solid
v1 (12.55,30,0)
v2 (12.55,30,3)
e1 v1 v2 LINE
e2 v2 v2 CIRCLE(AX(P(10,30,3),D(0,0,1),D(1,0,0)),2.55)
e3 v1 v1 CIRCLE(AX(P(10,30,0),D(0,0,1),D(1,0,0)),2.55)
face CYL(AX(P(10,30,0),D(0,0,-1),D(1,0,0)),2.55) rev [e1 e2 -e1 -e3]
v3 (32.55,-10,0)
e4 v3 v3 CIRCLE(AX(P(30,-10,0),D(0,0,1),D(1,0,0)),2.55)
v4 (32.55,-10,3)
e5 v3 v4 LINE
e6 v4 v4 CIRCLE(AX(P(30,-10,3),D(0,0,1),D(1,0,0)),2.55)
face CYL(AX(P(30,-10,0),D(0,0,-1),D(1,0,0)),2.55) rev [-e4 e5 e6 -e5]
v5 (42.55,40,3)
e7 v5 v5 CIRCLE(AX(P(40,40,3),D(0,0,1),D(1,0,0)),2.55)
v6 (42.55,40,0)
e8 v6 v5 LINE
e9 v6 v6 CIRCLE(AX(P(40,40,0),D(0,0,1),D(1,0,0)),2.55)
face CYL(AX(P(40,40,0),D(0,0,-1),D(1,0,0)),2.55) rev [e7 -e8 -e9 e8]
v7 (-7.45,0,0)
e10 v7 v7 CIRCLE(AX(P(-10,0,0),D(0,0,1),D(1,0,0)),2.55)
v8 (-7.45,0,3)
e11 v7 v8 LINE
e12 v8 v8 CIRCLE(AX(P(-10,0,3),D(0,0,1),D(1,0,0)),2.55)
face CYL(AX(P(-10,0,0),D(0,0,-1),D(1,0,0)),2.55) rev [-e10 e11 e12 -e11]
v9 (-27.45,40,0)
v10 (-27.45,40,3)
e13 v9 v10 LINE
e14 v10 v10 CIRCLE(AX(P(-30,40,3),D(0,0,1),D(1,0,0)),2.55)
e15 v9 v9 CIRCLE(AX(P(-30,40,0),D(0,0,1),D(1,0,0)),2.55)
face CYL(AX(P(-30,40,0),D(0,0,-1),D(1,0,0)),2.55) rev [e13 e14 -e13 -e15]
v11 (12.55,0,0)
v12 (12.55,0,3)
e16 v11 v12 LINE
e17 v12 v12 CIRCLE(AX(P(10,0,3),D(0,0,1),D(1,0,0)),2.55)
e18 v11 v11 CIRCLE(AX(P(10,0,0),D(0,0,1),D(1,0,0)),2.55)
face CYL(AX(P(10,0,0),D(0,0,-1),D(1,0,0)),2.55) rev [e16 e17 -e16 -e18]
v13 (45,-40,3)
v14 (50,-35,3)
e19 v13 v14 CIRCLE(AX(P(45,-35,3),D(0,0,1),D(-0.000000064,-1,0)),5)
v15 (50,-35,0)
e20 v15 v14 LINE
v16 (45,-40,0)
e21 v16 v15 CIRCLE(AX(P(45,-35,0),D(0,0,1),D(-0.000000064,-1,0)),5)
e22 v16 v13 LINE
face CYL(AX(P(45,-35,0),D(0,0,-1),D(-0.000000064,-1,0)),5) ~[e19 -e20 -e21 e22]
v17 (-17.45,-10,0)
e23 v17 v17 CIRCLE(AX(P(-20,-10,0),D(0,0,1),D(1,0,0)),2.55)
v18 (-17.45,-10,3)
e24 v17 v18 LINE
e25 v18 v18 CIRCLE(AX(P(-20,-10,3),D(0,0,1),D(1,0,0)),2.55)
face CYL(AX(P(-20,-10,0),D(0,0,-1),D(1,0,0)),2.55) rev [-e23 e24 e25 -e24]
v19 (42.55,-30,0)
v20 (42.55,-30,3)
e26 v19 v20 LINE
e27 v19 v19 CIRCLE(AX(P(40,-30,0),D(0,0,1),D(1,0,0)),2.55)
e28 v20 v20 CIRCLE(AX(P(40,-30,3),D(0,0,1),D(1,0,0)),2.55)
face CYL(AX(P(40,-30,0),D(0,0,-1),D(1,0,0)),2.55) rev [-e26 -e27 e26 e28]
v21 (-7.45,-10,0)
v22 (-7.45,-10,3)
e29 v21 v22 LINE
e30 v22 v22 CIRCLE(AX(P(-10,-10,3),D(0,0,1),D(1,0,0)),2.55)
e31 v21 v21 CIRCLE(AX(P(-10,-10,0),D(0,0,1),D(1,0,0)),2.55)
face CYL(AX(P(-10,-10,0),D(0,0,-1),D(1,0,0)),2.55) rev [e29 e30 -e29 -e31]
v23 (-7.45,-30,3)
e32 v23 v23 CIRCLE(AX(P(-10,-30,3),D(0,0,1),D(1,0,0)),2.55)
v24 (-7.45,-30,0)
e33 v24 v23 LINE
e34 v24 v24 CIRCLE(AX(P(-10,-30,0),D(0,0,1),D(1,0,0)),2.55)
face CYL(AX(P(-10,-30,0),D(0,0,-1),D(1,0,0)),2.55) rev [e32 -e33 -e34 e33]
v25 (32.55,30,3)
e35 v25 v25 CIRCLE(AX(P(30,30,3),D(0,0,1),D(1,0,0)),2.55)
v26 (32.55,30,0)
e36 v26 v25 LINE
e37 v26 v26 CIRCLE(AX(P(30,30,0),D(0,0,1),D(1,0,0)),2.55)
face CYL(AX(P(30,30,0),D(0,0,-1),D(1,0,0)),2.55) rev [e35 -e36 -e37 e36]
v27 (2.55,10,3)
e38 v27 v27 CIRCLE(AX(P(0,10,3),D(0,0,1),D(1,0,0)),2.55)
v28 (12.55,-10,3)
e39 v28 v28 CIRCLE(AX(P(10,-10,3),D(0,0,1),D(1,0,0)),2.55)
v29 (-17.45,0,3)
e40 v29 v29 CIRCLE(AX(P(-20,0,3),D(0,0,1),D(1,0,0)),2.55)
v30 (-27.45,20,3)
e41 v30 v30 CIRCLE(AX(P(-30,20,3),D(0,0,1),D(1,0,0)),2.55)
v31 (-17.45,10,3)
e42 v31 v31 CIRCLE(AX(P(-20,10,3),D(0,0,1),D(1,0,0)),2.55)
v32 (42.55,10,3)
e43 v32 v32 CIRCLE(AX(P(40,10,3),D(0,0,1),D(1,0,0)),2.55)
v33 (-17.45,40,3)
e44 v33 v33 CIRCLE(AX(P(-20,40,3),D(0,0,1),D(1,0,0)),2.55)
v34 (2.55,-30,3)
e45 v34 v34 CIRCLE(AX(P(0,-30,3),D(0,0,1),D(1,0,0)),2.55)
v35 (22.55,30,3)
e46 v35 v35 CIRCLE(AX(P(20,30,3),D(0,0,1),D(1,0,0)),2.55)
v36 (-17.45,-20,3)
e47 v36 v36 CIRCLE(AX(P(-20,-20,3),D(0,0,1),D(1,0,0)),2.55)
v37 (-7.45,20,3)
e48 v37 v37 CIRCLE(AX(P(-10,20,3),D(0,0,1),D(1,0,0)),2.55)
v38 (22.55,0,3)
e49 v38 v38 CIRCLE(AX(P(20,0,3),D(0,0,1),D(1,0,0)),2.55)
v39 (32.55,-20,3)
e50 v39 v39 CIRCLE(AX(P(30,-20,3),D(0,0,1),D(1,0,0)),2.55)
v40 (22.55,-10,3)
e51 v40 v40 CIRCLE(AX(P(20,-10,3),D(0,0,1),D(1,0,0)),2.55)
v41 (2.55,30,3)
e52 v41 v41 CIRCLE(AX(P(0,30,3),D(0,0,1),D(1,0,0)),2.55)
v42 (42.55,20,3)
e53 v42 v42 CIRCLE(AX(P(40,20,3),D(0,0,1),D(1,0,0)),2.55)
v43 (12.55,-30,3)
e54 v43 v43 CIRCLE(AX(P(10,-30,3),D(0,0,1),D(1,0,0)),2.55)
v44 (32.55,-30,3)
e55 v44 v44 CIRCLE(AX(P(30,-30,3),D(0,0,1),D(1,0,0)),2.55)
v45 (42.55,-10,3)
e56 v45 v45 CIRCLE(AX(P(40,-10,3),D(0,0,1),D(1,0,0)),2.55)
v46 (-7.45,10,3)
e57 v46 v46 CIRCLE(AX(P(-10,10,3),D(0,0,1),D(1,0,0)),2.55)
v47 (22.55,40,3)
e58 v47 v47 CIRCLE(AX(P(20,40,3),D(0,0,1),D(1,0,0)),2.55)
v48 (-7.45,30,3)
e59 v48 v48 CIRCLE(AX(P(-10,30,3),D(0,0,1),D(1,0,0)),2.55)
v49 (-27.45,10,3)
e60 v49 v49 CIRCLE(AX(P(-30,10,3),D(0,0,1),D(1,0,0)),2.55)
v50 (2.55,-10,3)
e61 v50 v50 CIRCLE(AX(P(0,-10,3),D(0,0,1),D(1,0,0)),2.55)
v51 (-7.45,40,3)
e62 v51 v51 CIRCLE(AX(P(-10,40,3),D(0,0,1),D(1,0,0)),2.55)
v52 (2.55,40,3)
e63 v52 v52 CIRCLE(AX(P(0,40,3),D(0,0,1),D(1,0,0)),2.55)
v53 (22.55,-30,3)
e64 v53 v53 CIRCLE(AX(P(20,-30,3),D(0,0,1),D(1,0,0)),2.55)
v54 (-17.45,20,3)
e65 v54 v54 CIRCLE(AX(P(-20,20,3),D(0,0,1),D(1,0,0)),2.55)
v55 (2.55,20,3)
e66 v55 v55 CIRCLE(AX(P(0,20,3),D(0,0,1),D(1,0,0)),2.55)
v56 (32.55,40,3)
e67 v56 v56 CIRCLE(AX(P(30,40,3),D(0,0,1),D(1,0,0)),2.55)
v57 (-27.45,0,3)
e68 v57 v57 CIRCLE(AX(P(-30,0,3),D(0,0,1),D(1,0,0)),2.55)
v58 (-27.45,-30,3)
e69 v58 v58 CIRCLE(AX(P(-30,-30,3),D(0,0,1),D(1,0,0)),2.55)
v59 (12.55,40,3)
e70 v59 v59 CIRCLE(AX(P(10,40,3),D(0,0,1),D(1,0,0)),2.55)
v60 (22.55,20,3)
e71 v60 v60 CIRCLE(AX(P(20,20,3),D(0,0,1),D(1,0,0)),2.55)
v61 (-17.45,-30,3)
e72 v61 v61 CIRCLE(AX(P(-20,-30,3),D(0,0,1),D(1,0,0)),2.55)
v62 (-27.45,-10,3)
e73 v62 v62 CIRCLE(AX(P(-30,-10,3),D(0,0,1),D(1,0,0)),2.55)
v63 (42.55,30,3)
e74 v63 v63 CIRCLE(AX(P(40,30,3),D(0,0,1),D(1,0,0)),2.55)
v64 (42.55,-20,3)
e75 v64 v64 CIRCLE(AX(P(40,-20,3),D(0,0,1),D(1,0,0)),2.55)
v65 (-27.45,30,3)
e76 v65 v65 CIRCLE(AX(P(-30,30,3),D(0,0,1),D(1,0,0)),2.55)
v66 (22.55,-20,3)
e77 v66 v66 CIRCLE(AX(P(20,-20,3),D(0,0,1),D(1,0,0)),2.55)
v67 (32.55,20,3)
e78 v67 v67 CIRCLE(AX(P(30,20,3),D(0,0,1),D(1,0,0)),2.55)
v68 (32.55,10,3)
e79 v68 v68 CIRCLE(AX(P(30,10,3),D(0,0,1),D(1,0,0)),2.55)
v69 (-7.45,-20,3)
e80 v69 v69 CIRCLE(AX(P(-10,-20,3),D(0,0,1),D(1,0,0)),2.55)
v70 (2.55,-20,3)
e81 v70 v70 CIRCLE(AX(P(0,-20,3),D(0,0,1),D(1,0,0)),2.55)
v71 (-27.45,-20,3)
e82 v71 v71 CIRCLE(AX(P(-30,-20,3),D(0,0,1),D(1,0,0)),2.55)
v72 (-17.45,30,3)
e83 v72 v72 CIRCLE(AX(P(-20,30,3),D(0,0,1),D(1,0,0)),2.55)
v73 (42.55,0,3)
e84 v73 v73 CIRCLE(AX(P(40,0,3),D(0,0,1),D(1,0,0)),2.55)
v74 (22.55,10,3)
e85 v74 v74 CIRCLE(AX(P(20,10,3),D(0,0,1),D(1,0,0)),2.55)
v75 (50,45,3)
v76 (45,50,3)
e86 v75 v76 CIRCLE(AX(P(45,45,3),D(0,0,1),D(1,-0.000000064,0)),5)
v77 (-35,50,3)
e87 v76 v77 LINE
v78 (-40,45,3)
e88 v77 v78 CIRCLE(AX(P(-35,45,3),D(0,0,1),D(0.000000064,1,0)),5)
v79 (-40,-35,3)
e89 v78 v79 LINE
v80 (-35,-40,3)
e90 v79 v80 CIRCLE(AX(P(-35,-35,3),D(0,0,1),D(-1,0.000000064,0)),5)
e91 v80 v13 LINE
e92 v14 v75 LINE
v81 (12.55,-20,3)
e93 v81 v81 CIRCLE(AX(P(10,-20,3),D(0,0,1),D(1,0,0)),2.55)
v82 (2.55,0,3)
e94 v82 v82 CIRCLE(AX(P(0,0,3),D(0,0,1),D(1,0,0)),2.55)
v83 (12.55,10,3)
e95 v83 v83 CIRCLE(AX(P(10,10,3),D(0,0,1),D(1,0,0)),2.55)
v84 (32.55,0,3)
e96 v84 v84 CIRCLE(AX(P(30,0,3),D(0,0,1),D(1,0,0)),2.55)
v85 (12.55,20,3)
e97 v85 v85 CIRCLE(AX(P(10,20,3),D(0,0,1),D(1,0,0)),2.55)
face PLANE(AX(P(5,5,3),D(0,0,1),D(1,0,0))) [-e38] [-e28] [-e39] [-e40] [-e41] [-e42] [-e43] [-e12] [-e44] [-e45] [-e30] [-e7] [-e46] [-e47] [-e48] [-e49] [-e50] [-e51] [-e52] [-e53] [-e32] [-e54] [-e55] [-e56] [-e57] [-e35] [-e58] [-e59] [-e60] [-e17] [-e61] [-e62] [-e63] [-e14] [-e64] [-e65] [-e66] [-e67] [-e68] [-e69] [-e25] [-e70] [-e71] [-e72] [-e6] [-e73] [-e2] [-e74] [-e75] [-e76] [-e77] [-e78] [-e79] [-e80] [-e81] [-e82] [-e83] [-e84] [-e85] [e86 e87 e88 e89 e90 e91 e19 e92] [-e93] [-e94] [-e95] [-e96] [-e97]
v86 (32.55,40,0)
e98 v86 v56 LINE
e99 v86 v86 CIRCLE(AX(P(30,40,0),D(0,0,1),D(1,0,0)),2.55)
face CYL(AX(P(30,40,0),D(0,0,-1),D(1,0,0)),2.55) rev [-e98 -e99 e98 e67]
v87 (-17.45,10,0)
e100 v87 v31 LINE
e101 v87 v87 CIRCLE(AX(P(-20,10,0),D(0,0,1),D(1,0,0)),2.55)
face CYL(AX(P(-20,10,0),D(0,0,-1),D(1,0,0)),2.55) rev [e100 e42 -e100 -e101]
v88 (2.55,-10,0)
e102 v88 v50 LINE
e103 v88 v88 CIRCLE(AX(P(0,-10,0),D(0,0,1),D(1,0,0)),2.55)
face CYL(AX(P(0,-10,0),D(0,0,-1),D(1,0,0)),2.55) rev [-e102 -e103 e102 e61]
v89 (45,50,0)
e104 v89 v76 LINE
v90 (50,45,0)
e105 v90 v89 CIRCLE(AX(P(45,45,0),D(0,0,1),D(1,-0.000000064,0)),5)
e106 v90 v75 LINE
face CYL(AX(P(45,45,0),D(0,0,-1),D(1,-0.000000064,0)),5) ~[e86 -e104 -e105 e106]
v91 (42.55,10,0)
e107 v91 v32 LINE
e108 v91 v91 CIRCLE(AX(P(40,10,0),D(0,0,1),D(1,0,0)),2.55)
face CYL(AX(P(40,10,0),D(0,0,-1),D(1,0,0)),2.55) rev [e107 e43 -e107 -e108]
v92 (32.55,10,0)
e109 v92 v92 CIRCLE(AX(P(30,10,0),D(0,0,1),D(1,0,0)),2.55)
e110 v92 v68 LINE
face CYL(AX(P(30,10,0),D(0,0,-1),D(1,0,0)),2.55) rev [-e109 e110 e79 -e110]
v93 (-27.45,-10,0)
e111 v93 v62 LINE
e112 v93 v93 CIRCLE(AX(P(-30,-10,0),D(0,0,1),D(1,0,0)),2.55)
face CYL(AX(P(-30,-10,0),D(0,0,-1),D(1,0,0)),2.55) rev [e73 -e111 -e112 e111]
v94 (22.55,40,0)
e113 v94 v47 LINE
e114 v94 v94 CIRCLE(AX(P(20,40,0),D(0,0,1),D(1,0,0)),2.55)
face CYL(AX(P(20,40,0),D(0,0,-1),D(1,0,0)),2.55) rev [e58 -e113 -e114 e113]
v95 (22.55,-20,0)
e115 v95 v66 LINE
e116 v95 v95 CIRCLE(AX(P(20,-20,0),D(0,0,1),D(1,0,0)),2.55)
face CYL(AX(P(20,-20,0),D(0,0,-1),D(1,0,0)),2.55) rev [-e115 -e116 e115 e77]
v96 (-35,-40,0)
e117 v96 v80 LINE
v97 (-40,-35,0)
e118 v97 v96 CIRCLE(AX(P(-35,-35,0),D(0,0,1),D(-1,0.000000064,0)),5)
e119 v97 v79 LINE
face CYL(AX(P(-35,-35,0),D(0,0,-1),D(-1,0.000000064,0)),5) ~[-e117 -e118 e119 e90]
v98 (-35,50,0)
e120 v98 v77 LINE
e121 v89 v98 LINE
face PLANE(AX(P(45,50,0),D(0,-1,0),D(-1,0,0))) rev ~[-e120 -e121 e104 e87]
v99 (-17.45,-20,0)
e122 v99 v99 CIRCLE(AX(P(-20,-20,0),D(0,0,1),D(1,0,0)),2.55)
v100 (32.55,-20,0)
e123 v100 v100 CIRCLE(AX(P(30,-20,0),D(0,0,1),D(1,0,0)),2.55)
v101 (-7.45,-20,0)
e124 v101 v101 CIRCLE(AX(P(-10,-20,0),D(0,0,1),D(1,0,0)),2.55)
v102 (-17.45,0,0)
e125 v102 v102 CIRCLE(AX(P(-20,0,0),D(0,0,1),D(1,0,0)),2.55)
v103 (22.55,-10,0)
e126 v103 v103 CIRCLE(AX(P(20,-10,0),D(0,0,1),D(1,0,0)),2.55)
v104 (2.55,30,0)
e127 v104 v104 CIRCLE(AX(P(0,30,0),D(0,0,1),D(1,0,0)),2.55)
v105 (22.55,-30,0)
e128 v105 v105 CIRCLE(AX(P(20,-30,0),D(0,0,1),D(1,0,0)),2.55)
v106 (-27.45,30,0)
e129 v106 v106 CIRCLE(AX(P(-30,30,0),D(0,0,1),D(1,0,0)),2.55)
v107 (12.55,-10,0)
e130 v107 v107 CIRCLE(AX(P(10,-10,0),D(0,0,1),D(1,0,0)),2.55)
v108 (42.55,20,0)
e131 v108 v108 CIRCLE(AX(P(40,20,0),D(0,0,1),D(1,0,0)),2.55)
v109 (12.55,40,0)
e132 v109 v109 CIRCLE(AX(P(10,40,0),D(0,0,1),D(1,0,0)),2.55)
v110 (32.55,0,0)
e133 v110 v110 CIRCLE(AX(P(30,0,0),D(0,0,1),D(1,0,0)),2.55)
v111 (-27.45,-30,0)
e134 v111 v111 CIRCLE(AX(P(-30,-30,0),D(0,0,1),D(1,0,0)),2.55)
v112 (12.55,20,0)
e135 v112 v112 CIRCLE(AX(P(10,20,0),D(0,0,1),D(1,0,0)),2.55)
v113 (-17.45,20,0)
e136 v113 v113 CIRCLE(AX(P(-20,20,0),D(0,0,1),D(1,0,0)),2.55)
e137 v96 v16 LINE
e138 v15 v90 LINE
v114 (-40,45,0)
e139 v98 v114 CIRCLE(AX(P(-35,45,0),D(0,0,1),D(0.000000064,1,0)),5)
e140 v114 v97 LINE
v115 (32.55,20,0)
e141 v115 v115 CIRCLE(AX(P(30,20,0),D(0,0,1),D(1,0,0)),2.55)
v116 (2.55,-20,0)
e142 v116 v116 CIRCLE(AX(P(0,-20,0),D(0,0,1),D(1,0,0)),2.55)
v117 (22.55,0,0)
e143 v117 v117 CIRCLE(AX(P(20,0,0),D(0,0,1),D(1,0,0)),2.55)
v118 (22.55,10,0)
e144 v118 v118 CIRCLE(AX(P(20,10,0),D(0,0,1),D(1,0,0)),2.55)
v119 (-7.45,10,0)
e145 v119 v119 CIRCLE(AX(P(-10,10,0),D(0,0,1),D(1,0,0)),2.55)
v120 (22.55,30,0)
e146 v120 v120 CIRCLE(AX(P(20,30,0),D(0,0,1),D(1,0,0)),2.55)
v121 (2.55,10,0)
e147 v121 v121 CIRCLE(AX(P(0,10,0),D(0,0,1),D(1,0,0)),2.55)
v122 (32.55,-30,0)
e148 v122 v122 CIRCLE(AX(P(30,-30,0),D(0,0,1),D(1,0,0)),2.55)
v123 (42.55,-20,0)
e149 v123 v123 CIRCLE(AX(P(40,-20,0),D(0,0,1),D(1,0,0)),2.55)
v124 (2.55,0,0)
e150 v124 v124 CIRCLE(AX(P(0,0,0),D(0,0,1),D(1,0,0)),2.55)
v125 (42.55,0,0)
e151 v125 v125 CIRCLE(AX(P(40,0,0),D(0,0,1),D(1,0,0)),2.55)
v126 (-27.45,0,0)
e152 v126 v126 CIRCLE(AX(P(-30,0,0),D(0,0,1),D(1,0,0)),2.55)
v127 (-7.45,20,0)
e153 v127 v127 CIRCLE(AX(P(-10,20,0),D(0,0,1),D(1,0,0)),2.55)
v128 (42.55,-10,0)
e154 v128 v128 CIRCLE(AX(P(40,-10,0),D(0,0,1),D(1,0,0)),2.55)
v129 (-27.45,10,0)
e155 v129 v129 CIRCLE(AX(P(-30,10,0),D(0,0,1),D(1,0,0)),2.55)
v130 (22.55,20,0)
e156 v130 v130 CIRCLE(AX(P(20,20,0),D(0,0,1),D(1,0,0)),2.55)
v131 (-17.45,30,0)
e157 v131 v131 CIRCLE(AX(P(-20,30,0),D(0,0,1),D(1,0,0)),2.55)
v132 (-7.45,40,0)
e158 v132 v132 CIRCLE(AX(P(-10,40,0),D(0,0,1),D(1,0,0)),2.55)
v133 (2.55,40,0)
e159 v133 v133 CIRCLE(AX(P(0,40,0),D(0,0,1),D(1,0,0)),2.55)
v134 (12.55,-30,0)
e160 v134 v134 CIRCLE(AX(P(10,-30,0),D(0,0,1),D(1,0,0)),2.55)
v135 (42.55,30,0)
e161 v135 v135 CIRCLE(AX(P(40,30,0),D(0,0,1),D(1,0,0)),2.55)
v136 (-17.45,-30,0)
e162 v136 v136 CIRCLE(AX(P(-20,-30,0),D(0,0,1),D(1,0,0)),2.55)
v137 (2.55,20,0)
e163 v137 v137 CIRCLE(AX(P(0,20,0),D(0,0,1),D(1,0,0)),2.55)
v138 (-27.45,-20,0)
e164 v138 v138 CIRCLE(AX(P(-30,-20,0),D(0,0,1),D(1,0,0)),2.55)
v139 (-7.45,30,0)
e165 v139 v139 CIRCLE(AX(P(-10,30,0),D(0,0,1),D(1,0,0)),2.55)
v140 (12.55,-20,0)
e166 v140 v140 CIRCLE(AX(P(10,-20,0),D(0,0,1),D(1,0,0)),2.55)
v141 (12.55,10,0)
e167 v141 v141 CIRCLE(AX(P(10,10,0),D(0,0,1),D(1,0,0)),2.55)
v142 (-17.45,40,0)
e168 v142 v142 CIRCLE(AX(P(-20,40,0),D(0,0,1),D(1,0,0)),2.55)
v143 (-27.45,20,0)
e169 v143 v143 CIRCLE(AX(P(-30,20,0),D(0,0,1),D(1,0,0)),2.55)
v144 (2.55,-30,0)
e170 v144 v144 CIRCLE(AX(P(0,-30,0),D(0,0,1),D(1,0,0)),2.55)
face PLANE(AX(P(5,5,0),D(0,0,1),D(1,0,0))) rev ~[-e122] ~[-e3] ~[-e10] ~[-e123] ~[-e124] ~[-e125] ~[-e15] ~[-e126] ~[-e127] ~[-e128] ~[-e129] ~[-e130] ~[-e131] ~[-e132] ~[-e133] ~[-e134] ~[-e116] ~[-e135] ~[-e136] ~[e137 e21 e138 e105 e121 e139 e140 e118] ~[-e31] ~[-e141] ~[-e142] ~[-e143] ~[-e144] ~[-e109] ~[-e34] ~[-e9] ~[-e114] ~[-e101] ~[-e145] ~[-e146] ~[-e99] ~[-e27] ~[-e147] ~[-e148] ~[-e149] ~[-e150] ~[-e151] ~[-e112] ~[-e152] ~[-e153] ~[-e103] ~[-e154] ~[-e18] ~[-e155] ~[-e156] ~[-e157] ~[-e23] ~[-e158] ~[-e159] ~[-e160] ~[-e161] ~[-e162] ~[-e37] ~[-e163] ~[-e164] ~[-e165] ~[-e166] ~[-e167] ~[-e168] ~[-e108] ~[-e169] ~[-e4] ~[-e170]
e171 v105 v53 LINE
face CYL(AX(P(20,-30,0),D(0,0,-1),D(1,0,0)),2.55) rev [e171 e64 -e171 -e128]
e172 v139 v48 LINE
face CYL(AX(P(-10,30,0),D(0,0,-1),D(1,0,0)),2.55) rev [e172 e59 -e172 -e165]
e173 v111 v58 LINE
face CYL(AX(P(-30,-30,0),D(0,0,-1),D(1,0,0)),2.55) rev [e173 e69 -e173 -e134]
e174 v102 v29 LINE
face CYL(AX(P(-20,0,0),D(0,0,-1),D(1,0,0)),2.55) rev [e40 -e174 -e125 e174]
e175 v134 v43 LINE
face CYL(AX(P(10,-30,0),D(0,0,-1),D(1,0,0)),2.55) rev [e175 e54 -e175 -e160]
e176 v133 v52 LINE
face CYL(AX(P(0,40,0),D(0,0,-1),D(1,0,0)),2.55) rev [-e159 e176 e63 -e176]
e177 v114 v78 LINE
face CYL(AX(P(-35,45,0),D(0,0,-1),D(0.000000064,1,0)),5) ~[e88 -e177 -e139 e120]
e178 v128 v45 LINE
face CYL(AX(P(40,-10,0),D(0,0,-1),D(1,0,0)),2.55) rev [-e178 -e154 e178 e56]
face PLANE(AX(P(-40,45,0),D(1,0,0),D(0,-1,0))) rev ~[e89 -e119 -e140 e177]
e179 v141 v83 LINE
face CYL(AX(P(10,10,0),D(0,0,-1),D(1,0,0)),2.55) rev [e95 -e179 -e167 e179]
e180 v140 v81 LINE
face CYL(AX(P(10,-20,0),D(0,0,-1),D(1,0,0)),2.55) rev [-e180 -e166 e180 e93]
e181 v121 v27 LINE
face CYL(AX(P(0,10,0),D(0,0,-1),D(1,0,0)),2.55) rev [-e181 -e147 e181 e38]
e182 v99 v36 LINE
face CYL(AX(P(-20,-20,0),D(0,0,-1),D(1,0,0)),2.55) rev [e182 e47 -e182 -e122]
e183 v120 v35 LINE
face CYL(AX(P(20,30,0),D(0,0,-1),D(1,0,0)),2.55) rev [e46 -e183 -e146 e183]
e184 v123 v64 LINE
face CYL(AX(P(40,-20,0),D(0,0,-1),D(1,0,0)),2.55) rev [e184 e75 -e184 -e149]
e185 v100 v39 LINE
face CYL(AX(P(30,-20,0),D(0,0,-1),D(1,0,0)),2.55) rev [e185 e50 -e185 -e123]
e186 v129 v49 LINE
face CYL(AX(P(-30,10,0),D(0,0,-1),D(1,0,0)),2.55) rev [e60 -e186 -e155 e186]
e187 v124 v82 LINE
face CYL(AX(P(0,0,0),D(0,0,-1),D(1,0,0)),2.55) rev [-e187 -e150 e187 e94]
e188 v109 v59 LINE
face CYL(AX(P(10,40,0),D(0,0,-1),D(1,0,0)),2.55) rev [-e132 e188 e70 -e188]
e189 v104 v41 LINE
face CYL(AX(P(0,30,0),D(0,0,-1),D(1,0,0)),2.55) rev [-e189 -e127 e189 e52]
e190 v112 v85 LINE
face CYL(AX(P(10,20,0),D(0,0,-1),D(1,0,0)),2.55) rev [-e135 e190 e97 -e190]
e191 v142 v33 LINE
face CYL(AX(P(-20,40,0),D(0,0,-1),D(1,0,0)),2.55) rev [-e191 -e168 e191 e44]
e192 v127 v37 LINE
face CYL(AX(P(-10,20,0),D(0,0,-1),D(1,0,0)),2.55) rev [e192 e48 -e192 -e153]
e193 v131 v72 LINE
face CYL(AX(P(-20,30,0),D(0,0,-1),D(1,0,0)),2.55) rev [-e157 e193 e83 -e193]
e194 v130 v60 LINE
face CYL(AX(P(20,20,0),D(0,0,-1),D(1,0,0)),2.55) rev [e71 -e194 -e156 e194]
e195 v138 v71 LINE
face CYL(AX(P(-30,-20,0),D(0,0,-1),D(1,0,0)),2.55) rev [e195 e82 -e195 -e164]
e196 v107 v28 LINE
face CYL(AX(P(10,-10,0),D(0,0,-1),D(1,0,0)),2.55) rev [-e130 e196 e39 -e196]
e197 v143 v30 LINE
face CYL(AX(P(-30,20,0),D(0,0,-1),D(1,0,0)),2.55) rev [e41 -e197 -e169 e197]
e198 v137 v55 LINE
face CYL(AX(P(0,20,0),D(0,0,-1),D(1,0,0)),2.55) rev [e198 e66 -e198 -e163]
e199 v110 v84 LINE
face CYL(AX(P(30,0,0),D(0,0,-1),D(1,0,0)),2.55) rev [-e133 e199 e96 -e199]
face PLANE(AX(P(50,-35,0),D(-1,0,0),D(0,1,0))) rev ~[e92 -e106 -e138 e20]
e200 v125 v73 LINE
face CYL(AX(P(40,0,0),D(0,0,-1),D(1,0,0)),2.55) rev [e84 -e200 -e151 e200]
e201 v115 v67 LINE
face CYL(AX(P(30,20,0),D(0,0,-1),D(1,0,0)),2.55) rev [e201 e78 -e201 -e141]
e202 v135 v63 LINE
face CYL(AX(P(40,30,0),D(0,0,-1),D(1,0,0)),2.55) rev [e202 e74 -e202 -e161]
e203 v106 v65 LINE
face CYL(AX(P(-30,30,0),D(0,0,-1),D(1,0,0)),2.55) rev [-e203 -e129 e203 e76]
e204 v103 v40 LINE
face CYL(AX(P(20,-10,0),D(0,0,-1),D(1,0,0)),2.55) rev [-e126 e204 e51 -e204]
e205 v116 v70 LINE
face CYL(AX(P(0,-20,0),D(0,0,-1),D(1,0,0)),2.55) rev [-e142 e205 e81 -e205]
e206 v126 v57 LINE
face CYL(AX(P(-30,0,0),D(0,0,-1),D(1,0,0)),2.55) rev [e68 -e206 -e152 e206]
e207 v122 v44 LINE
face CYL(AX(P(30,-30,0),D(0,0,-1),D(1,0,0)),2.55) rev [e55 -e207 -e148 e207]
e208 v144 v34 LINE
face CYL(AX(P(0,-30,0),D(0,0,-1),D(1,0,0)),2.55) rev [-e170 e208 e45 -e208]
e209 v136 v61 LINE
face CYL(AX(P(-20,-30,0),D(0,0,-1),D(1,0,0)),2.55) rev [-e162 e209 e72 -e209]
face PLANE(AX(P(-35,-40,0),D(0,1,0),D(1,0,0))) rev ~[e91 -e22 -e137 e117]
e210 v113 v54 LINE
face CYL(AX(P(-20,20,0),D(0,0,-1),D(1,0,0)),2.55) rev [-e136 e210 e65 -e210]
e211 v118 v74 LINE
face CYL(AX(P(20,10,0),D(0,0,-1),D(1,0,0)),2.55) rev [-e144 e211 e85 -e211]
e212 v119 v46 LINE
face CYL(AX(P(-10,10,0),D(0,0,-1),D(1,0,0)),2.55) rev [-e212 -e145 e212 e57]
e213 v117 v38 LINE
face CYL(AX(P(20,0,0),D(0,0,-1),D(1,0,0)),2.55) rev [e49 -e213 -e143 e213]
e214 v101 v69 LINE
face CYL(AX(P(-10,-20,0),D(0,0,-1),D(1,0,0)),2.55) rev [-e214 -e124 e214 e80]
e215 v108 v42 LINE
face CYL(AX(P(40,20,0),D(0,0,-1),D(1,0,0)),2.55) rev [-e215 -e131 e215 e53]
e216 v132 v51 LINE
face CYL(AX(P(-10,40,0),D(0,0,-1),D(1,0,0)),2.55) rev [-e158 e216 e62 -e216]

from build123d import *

# Parameters (mm, degrees)
F0_R     = 2.55
F1_DEPTH = 3


with BuildPart() as f1:
    # F0 (on Top) → F1 (new body)
    with BuildSketch(Plane.XY):
        with BuildLine():
            Line((45, 50), (-35, 50))
            ThreePointArc((-35, 50), (-38.535534, 48.535534), (-40, 45))
            Line((-40, 45), (-40, -35))
            ThreePointArc((-40, -35), (-38.535534, -38.535534), (-35, -40))
            Line((-35, -40), (45, -40))
            ThreePointArc((45, -40), (48.535534, -38.535534), (50, -35))
            Line((50, -35), (50, 45))
            ThreePointArc((50, 45), (48.535534, 48.535534), (45, 50))
        make_face()
        with Locations((-30, -30)):
            Circle(F0_R, mode=Mode.SUBTRACT)
        with Locations((-20, -30)):
            Circle(F0_R, mode=Mode.SUBTRACT)
        with Locations((-30, -20)):
            Circle(F0_R, mode=Mode.SUBTRACT)
        with Locations((-20, -20)):
            Circle(F0_R, mode=Mode.SUBTRACT)
        with Locations((-10, -30)):
            Circle(F0_R, mode=Mode.SUBTRACT)
        with Locations((0, -30)):
            Circle(F0_R, mode=Mode.SUBTRACT)
        with Locations((-10, -20)):
            Circle(F0_R, mode=Mode.SUBTRACT)
        with Locations((0, -20)):
            Circle(F0_R, mode=Mode.SUBTRACT)
        with Locations((-30, -10)):
            Circle(F0_R, mode=Mode.SUBTRACT)
        with Locations((-20, -10)):
            Circle(F0_R, mode=Mode.SUBTRACT)
        with Locations((-30, 0)):
            Circle(F0_R, mode=Mode.SUBTRACT)
        with Locations((-20, 0)):
            Circle(F0_R, mode=Mode.SUBTRACT)
        with Locations((-10, -10)):
            Circle(F0_R, mode=Mode.SUBTRACT)
        with Locations((0, -10)):
            Circle(F0_R, mode=Mode.SUBTRACT)
        with Locations((-10, 0)):
            Circle(F0_R, mode=Mode.SUBTRACT)
        Circle(F0_R, mode=Mode.SUBTRACT)
        with Locations((10, -30)):
            Circle(F0_R, mode=Mode.SUBTRACT)
        with Locations((20, -30)):
            Circle(F0_R, mode=Mode.SUBTRACT)
        with Locations((10, -20)):
            Circle(F0_R, mode=Mode.SUBTRACT)
        with Locations((20, -20)):
            Circle(F0_R, mode=Mode.SUBTRACT)
        with Locations((30, -30)):
            Circle(F0_R, mode=Mode.SUBTRACT)
        with Locations((40, -30)):
            Circle(F0_R, mode=Mode.SUBTRACT)
        with Locations((30, -20)):
            Circle(F0_R, mode=Mode.SUBTRACT)
        with Locations((40, -20)):
            Circle(F0_R, mode=Mode.SUBTRACT)
        with Locations((10, -10)):
            Circle(F0_R, mode=Mode.SUBTRACT)
        with Locations((20, -10)):
            Circle(F0_R, mode=Mode.SUBTRACT)
        with Locations((10, 0)):
            Circle(F0_R, mode=Mode.SUBTRACT)
        with Locations((20, 0)):
            Circle(F0_R, mode=Mode.SUBTRACT)
        with Locations((30, -10)):
            Circle(F0_R, mode=Mode.SUBTRACT)
        with Locations((40, -10)):
            Circle(F0_R, mode=Mode.SUBTRACT)
        with Locations((30, 0)):
            Circle(F0_R, mode=Mode.SUBTRACT)
        with Locations((40, 0)):
            Circle(F0_R, mode=Mode.SUBTRACT)
        with Locations((-30, 10)):
            Circle(F0_R, mode=Mode.SUBTRACT)
        with Locations((-20, 10)):
            Circle(F0_R, mode=Mode.SUBTRACT)
        with Locations((-30, 20)):
            Circle(F0_R, mode=Mode.SUBTRACT)
        with Locations((-20, 20)):
            Circle(F0_R, mode=Mode.SUBTRACT)
        with Locations((-10, 10)):
            Circle(F0_R, mode=Mode.SUBTRACT)
        with Locations((0, 10)):
            Circle(F0_R, mode=Mode.SUBTRACT)
        with Locations((-10, 20)):
            Circle(F0_R, mode=Mode.SUBTRACT)
        with Locations((0, 20)):
            Circle(F0_R, mode=Mode.SUBTRACT)
        with Locations((-30, 30)):
            Circle(F0_R, mode=Mode.SUBTRACT)
        with Locations((-20, 30)):
            Circle(F0_R, mode=Mode.SUBTRACT)
        with Locations((-30, 40)):
            Circle(F0_R, mode=Mode.SUBTRACT)
        with Locations((-20, 40)):
            Circle(F0_R, mode=Mode.SUBTRACT)
        with Locations((-10, 30)):
            Circle(F0_R, mode=Mode.SUBTRACT)
        with Locations((0, 30)):
            Circle(F0_R, mode=Mode.SUBTRACT)
        with Locations((-10, 40)):
            Circle(F0_R, mode=Mode.SUBTRACT)
        with Locations((0, 40)):
            Circle(F0_R, mode=Mode.SUBTRACT)
        with Locations((10, 10)):
            Circle(F0_R, mode=Mode.SUBTRACT)
        with Locations((20, 10)):
            Circle(F0_R, mode=Mode.SUBTRACT)
        with Locations((10, 20)):
            Circle(F0_R, mode=Mode.SUBTRACT)
        with Locations((20, 20)):
            Circle(F0_R, mode=Mode.SUBTRACT)
        with Locations((30, 10)):
            Circle(F0_R, mode=Mode.SUBTRACT)
        with Locations((40, 10)):
            Circle(F0_R, mode=Mode.SUBTRACT)
        with Locations((30, 20)):
            Circle(F0_R, mode=Mode.SUBTRACT)
        with Locations((40, 20)):
            Circle(F0_R, mode=Mode.SUBTRACT)
        with Locations((10, 30)):
            Circle(F0_R, mode=Mode.SUBTRACT)
        with Locations((20, 30)):
            Circle(F0_R, mode=Mode.SUBTRACT)
        with Locations((10, 40)):
            Circle(F0_R, mode=Mode.SUBTRACT)
        with Locations((20, 40)):
            Circle(F0_R, mode=Mode.SUBTRACT)
        with Locations((30, 30)):
            Circle(F0_R, mode=Mode.SUBTRACT)
        with Locations((40, 30)):
            Circle(F0_R, mode=Mode.SUBTRACT)
        with Locations((30, 40)):
            Circle(F0_R, mode=Mode.SUBTRACT)
        with Locations((40, 40)):
            Circle(F0_R, mode=Mode.SUBTRACT)
    extrude(amount=F1_DEPTH)


solid = f1.part
